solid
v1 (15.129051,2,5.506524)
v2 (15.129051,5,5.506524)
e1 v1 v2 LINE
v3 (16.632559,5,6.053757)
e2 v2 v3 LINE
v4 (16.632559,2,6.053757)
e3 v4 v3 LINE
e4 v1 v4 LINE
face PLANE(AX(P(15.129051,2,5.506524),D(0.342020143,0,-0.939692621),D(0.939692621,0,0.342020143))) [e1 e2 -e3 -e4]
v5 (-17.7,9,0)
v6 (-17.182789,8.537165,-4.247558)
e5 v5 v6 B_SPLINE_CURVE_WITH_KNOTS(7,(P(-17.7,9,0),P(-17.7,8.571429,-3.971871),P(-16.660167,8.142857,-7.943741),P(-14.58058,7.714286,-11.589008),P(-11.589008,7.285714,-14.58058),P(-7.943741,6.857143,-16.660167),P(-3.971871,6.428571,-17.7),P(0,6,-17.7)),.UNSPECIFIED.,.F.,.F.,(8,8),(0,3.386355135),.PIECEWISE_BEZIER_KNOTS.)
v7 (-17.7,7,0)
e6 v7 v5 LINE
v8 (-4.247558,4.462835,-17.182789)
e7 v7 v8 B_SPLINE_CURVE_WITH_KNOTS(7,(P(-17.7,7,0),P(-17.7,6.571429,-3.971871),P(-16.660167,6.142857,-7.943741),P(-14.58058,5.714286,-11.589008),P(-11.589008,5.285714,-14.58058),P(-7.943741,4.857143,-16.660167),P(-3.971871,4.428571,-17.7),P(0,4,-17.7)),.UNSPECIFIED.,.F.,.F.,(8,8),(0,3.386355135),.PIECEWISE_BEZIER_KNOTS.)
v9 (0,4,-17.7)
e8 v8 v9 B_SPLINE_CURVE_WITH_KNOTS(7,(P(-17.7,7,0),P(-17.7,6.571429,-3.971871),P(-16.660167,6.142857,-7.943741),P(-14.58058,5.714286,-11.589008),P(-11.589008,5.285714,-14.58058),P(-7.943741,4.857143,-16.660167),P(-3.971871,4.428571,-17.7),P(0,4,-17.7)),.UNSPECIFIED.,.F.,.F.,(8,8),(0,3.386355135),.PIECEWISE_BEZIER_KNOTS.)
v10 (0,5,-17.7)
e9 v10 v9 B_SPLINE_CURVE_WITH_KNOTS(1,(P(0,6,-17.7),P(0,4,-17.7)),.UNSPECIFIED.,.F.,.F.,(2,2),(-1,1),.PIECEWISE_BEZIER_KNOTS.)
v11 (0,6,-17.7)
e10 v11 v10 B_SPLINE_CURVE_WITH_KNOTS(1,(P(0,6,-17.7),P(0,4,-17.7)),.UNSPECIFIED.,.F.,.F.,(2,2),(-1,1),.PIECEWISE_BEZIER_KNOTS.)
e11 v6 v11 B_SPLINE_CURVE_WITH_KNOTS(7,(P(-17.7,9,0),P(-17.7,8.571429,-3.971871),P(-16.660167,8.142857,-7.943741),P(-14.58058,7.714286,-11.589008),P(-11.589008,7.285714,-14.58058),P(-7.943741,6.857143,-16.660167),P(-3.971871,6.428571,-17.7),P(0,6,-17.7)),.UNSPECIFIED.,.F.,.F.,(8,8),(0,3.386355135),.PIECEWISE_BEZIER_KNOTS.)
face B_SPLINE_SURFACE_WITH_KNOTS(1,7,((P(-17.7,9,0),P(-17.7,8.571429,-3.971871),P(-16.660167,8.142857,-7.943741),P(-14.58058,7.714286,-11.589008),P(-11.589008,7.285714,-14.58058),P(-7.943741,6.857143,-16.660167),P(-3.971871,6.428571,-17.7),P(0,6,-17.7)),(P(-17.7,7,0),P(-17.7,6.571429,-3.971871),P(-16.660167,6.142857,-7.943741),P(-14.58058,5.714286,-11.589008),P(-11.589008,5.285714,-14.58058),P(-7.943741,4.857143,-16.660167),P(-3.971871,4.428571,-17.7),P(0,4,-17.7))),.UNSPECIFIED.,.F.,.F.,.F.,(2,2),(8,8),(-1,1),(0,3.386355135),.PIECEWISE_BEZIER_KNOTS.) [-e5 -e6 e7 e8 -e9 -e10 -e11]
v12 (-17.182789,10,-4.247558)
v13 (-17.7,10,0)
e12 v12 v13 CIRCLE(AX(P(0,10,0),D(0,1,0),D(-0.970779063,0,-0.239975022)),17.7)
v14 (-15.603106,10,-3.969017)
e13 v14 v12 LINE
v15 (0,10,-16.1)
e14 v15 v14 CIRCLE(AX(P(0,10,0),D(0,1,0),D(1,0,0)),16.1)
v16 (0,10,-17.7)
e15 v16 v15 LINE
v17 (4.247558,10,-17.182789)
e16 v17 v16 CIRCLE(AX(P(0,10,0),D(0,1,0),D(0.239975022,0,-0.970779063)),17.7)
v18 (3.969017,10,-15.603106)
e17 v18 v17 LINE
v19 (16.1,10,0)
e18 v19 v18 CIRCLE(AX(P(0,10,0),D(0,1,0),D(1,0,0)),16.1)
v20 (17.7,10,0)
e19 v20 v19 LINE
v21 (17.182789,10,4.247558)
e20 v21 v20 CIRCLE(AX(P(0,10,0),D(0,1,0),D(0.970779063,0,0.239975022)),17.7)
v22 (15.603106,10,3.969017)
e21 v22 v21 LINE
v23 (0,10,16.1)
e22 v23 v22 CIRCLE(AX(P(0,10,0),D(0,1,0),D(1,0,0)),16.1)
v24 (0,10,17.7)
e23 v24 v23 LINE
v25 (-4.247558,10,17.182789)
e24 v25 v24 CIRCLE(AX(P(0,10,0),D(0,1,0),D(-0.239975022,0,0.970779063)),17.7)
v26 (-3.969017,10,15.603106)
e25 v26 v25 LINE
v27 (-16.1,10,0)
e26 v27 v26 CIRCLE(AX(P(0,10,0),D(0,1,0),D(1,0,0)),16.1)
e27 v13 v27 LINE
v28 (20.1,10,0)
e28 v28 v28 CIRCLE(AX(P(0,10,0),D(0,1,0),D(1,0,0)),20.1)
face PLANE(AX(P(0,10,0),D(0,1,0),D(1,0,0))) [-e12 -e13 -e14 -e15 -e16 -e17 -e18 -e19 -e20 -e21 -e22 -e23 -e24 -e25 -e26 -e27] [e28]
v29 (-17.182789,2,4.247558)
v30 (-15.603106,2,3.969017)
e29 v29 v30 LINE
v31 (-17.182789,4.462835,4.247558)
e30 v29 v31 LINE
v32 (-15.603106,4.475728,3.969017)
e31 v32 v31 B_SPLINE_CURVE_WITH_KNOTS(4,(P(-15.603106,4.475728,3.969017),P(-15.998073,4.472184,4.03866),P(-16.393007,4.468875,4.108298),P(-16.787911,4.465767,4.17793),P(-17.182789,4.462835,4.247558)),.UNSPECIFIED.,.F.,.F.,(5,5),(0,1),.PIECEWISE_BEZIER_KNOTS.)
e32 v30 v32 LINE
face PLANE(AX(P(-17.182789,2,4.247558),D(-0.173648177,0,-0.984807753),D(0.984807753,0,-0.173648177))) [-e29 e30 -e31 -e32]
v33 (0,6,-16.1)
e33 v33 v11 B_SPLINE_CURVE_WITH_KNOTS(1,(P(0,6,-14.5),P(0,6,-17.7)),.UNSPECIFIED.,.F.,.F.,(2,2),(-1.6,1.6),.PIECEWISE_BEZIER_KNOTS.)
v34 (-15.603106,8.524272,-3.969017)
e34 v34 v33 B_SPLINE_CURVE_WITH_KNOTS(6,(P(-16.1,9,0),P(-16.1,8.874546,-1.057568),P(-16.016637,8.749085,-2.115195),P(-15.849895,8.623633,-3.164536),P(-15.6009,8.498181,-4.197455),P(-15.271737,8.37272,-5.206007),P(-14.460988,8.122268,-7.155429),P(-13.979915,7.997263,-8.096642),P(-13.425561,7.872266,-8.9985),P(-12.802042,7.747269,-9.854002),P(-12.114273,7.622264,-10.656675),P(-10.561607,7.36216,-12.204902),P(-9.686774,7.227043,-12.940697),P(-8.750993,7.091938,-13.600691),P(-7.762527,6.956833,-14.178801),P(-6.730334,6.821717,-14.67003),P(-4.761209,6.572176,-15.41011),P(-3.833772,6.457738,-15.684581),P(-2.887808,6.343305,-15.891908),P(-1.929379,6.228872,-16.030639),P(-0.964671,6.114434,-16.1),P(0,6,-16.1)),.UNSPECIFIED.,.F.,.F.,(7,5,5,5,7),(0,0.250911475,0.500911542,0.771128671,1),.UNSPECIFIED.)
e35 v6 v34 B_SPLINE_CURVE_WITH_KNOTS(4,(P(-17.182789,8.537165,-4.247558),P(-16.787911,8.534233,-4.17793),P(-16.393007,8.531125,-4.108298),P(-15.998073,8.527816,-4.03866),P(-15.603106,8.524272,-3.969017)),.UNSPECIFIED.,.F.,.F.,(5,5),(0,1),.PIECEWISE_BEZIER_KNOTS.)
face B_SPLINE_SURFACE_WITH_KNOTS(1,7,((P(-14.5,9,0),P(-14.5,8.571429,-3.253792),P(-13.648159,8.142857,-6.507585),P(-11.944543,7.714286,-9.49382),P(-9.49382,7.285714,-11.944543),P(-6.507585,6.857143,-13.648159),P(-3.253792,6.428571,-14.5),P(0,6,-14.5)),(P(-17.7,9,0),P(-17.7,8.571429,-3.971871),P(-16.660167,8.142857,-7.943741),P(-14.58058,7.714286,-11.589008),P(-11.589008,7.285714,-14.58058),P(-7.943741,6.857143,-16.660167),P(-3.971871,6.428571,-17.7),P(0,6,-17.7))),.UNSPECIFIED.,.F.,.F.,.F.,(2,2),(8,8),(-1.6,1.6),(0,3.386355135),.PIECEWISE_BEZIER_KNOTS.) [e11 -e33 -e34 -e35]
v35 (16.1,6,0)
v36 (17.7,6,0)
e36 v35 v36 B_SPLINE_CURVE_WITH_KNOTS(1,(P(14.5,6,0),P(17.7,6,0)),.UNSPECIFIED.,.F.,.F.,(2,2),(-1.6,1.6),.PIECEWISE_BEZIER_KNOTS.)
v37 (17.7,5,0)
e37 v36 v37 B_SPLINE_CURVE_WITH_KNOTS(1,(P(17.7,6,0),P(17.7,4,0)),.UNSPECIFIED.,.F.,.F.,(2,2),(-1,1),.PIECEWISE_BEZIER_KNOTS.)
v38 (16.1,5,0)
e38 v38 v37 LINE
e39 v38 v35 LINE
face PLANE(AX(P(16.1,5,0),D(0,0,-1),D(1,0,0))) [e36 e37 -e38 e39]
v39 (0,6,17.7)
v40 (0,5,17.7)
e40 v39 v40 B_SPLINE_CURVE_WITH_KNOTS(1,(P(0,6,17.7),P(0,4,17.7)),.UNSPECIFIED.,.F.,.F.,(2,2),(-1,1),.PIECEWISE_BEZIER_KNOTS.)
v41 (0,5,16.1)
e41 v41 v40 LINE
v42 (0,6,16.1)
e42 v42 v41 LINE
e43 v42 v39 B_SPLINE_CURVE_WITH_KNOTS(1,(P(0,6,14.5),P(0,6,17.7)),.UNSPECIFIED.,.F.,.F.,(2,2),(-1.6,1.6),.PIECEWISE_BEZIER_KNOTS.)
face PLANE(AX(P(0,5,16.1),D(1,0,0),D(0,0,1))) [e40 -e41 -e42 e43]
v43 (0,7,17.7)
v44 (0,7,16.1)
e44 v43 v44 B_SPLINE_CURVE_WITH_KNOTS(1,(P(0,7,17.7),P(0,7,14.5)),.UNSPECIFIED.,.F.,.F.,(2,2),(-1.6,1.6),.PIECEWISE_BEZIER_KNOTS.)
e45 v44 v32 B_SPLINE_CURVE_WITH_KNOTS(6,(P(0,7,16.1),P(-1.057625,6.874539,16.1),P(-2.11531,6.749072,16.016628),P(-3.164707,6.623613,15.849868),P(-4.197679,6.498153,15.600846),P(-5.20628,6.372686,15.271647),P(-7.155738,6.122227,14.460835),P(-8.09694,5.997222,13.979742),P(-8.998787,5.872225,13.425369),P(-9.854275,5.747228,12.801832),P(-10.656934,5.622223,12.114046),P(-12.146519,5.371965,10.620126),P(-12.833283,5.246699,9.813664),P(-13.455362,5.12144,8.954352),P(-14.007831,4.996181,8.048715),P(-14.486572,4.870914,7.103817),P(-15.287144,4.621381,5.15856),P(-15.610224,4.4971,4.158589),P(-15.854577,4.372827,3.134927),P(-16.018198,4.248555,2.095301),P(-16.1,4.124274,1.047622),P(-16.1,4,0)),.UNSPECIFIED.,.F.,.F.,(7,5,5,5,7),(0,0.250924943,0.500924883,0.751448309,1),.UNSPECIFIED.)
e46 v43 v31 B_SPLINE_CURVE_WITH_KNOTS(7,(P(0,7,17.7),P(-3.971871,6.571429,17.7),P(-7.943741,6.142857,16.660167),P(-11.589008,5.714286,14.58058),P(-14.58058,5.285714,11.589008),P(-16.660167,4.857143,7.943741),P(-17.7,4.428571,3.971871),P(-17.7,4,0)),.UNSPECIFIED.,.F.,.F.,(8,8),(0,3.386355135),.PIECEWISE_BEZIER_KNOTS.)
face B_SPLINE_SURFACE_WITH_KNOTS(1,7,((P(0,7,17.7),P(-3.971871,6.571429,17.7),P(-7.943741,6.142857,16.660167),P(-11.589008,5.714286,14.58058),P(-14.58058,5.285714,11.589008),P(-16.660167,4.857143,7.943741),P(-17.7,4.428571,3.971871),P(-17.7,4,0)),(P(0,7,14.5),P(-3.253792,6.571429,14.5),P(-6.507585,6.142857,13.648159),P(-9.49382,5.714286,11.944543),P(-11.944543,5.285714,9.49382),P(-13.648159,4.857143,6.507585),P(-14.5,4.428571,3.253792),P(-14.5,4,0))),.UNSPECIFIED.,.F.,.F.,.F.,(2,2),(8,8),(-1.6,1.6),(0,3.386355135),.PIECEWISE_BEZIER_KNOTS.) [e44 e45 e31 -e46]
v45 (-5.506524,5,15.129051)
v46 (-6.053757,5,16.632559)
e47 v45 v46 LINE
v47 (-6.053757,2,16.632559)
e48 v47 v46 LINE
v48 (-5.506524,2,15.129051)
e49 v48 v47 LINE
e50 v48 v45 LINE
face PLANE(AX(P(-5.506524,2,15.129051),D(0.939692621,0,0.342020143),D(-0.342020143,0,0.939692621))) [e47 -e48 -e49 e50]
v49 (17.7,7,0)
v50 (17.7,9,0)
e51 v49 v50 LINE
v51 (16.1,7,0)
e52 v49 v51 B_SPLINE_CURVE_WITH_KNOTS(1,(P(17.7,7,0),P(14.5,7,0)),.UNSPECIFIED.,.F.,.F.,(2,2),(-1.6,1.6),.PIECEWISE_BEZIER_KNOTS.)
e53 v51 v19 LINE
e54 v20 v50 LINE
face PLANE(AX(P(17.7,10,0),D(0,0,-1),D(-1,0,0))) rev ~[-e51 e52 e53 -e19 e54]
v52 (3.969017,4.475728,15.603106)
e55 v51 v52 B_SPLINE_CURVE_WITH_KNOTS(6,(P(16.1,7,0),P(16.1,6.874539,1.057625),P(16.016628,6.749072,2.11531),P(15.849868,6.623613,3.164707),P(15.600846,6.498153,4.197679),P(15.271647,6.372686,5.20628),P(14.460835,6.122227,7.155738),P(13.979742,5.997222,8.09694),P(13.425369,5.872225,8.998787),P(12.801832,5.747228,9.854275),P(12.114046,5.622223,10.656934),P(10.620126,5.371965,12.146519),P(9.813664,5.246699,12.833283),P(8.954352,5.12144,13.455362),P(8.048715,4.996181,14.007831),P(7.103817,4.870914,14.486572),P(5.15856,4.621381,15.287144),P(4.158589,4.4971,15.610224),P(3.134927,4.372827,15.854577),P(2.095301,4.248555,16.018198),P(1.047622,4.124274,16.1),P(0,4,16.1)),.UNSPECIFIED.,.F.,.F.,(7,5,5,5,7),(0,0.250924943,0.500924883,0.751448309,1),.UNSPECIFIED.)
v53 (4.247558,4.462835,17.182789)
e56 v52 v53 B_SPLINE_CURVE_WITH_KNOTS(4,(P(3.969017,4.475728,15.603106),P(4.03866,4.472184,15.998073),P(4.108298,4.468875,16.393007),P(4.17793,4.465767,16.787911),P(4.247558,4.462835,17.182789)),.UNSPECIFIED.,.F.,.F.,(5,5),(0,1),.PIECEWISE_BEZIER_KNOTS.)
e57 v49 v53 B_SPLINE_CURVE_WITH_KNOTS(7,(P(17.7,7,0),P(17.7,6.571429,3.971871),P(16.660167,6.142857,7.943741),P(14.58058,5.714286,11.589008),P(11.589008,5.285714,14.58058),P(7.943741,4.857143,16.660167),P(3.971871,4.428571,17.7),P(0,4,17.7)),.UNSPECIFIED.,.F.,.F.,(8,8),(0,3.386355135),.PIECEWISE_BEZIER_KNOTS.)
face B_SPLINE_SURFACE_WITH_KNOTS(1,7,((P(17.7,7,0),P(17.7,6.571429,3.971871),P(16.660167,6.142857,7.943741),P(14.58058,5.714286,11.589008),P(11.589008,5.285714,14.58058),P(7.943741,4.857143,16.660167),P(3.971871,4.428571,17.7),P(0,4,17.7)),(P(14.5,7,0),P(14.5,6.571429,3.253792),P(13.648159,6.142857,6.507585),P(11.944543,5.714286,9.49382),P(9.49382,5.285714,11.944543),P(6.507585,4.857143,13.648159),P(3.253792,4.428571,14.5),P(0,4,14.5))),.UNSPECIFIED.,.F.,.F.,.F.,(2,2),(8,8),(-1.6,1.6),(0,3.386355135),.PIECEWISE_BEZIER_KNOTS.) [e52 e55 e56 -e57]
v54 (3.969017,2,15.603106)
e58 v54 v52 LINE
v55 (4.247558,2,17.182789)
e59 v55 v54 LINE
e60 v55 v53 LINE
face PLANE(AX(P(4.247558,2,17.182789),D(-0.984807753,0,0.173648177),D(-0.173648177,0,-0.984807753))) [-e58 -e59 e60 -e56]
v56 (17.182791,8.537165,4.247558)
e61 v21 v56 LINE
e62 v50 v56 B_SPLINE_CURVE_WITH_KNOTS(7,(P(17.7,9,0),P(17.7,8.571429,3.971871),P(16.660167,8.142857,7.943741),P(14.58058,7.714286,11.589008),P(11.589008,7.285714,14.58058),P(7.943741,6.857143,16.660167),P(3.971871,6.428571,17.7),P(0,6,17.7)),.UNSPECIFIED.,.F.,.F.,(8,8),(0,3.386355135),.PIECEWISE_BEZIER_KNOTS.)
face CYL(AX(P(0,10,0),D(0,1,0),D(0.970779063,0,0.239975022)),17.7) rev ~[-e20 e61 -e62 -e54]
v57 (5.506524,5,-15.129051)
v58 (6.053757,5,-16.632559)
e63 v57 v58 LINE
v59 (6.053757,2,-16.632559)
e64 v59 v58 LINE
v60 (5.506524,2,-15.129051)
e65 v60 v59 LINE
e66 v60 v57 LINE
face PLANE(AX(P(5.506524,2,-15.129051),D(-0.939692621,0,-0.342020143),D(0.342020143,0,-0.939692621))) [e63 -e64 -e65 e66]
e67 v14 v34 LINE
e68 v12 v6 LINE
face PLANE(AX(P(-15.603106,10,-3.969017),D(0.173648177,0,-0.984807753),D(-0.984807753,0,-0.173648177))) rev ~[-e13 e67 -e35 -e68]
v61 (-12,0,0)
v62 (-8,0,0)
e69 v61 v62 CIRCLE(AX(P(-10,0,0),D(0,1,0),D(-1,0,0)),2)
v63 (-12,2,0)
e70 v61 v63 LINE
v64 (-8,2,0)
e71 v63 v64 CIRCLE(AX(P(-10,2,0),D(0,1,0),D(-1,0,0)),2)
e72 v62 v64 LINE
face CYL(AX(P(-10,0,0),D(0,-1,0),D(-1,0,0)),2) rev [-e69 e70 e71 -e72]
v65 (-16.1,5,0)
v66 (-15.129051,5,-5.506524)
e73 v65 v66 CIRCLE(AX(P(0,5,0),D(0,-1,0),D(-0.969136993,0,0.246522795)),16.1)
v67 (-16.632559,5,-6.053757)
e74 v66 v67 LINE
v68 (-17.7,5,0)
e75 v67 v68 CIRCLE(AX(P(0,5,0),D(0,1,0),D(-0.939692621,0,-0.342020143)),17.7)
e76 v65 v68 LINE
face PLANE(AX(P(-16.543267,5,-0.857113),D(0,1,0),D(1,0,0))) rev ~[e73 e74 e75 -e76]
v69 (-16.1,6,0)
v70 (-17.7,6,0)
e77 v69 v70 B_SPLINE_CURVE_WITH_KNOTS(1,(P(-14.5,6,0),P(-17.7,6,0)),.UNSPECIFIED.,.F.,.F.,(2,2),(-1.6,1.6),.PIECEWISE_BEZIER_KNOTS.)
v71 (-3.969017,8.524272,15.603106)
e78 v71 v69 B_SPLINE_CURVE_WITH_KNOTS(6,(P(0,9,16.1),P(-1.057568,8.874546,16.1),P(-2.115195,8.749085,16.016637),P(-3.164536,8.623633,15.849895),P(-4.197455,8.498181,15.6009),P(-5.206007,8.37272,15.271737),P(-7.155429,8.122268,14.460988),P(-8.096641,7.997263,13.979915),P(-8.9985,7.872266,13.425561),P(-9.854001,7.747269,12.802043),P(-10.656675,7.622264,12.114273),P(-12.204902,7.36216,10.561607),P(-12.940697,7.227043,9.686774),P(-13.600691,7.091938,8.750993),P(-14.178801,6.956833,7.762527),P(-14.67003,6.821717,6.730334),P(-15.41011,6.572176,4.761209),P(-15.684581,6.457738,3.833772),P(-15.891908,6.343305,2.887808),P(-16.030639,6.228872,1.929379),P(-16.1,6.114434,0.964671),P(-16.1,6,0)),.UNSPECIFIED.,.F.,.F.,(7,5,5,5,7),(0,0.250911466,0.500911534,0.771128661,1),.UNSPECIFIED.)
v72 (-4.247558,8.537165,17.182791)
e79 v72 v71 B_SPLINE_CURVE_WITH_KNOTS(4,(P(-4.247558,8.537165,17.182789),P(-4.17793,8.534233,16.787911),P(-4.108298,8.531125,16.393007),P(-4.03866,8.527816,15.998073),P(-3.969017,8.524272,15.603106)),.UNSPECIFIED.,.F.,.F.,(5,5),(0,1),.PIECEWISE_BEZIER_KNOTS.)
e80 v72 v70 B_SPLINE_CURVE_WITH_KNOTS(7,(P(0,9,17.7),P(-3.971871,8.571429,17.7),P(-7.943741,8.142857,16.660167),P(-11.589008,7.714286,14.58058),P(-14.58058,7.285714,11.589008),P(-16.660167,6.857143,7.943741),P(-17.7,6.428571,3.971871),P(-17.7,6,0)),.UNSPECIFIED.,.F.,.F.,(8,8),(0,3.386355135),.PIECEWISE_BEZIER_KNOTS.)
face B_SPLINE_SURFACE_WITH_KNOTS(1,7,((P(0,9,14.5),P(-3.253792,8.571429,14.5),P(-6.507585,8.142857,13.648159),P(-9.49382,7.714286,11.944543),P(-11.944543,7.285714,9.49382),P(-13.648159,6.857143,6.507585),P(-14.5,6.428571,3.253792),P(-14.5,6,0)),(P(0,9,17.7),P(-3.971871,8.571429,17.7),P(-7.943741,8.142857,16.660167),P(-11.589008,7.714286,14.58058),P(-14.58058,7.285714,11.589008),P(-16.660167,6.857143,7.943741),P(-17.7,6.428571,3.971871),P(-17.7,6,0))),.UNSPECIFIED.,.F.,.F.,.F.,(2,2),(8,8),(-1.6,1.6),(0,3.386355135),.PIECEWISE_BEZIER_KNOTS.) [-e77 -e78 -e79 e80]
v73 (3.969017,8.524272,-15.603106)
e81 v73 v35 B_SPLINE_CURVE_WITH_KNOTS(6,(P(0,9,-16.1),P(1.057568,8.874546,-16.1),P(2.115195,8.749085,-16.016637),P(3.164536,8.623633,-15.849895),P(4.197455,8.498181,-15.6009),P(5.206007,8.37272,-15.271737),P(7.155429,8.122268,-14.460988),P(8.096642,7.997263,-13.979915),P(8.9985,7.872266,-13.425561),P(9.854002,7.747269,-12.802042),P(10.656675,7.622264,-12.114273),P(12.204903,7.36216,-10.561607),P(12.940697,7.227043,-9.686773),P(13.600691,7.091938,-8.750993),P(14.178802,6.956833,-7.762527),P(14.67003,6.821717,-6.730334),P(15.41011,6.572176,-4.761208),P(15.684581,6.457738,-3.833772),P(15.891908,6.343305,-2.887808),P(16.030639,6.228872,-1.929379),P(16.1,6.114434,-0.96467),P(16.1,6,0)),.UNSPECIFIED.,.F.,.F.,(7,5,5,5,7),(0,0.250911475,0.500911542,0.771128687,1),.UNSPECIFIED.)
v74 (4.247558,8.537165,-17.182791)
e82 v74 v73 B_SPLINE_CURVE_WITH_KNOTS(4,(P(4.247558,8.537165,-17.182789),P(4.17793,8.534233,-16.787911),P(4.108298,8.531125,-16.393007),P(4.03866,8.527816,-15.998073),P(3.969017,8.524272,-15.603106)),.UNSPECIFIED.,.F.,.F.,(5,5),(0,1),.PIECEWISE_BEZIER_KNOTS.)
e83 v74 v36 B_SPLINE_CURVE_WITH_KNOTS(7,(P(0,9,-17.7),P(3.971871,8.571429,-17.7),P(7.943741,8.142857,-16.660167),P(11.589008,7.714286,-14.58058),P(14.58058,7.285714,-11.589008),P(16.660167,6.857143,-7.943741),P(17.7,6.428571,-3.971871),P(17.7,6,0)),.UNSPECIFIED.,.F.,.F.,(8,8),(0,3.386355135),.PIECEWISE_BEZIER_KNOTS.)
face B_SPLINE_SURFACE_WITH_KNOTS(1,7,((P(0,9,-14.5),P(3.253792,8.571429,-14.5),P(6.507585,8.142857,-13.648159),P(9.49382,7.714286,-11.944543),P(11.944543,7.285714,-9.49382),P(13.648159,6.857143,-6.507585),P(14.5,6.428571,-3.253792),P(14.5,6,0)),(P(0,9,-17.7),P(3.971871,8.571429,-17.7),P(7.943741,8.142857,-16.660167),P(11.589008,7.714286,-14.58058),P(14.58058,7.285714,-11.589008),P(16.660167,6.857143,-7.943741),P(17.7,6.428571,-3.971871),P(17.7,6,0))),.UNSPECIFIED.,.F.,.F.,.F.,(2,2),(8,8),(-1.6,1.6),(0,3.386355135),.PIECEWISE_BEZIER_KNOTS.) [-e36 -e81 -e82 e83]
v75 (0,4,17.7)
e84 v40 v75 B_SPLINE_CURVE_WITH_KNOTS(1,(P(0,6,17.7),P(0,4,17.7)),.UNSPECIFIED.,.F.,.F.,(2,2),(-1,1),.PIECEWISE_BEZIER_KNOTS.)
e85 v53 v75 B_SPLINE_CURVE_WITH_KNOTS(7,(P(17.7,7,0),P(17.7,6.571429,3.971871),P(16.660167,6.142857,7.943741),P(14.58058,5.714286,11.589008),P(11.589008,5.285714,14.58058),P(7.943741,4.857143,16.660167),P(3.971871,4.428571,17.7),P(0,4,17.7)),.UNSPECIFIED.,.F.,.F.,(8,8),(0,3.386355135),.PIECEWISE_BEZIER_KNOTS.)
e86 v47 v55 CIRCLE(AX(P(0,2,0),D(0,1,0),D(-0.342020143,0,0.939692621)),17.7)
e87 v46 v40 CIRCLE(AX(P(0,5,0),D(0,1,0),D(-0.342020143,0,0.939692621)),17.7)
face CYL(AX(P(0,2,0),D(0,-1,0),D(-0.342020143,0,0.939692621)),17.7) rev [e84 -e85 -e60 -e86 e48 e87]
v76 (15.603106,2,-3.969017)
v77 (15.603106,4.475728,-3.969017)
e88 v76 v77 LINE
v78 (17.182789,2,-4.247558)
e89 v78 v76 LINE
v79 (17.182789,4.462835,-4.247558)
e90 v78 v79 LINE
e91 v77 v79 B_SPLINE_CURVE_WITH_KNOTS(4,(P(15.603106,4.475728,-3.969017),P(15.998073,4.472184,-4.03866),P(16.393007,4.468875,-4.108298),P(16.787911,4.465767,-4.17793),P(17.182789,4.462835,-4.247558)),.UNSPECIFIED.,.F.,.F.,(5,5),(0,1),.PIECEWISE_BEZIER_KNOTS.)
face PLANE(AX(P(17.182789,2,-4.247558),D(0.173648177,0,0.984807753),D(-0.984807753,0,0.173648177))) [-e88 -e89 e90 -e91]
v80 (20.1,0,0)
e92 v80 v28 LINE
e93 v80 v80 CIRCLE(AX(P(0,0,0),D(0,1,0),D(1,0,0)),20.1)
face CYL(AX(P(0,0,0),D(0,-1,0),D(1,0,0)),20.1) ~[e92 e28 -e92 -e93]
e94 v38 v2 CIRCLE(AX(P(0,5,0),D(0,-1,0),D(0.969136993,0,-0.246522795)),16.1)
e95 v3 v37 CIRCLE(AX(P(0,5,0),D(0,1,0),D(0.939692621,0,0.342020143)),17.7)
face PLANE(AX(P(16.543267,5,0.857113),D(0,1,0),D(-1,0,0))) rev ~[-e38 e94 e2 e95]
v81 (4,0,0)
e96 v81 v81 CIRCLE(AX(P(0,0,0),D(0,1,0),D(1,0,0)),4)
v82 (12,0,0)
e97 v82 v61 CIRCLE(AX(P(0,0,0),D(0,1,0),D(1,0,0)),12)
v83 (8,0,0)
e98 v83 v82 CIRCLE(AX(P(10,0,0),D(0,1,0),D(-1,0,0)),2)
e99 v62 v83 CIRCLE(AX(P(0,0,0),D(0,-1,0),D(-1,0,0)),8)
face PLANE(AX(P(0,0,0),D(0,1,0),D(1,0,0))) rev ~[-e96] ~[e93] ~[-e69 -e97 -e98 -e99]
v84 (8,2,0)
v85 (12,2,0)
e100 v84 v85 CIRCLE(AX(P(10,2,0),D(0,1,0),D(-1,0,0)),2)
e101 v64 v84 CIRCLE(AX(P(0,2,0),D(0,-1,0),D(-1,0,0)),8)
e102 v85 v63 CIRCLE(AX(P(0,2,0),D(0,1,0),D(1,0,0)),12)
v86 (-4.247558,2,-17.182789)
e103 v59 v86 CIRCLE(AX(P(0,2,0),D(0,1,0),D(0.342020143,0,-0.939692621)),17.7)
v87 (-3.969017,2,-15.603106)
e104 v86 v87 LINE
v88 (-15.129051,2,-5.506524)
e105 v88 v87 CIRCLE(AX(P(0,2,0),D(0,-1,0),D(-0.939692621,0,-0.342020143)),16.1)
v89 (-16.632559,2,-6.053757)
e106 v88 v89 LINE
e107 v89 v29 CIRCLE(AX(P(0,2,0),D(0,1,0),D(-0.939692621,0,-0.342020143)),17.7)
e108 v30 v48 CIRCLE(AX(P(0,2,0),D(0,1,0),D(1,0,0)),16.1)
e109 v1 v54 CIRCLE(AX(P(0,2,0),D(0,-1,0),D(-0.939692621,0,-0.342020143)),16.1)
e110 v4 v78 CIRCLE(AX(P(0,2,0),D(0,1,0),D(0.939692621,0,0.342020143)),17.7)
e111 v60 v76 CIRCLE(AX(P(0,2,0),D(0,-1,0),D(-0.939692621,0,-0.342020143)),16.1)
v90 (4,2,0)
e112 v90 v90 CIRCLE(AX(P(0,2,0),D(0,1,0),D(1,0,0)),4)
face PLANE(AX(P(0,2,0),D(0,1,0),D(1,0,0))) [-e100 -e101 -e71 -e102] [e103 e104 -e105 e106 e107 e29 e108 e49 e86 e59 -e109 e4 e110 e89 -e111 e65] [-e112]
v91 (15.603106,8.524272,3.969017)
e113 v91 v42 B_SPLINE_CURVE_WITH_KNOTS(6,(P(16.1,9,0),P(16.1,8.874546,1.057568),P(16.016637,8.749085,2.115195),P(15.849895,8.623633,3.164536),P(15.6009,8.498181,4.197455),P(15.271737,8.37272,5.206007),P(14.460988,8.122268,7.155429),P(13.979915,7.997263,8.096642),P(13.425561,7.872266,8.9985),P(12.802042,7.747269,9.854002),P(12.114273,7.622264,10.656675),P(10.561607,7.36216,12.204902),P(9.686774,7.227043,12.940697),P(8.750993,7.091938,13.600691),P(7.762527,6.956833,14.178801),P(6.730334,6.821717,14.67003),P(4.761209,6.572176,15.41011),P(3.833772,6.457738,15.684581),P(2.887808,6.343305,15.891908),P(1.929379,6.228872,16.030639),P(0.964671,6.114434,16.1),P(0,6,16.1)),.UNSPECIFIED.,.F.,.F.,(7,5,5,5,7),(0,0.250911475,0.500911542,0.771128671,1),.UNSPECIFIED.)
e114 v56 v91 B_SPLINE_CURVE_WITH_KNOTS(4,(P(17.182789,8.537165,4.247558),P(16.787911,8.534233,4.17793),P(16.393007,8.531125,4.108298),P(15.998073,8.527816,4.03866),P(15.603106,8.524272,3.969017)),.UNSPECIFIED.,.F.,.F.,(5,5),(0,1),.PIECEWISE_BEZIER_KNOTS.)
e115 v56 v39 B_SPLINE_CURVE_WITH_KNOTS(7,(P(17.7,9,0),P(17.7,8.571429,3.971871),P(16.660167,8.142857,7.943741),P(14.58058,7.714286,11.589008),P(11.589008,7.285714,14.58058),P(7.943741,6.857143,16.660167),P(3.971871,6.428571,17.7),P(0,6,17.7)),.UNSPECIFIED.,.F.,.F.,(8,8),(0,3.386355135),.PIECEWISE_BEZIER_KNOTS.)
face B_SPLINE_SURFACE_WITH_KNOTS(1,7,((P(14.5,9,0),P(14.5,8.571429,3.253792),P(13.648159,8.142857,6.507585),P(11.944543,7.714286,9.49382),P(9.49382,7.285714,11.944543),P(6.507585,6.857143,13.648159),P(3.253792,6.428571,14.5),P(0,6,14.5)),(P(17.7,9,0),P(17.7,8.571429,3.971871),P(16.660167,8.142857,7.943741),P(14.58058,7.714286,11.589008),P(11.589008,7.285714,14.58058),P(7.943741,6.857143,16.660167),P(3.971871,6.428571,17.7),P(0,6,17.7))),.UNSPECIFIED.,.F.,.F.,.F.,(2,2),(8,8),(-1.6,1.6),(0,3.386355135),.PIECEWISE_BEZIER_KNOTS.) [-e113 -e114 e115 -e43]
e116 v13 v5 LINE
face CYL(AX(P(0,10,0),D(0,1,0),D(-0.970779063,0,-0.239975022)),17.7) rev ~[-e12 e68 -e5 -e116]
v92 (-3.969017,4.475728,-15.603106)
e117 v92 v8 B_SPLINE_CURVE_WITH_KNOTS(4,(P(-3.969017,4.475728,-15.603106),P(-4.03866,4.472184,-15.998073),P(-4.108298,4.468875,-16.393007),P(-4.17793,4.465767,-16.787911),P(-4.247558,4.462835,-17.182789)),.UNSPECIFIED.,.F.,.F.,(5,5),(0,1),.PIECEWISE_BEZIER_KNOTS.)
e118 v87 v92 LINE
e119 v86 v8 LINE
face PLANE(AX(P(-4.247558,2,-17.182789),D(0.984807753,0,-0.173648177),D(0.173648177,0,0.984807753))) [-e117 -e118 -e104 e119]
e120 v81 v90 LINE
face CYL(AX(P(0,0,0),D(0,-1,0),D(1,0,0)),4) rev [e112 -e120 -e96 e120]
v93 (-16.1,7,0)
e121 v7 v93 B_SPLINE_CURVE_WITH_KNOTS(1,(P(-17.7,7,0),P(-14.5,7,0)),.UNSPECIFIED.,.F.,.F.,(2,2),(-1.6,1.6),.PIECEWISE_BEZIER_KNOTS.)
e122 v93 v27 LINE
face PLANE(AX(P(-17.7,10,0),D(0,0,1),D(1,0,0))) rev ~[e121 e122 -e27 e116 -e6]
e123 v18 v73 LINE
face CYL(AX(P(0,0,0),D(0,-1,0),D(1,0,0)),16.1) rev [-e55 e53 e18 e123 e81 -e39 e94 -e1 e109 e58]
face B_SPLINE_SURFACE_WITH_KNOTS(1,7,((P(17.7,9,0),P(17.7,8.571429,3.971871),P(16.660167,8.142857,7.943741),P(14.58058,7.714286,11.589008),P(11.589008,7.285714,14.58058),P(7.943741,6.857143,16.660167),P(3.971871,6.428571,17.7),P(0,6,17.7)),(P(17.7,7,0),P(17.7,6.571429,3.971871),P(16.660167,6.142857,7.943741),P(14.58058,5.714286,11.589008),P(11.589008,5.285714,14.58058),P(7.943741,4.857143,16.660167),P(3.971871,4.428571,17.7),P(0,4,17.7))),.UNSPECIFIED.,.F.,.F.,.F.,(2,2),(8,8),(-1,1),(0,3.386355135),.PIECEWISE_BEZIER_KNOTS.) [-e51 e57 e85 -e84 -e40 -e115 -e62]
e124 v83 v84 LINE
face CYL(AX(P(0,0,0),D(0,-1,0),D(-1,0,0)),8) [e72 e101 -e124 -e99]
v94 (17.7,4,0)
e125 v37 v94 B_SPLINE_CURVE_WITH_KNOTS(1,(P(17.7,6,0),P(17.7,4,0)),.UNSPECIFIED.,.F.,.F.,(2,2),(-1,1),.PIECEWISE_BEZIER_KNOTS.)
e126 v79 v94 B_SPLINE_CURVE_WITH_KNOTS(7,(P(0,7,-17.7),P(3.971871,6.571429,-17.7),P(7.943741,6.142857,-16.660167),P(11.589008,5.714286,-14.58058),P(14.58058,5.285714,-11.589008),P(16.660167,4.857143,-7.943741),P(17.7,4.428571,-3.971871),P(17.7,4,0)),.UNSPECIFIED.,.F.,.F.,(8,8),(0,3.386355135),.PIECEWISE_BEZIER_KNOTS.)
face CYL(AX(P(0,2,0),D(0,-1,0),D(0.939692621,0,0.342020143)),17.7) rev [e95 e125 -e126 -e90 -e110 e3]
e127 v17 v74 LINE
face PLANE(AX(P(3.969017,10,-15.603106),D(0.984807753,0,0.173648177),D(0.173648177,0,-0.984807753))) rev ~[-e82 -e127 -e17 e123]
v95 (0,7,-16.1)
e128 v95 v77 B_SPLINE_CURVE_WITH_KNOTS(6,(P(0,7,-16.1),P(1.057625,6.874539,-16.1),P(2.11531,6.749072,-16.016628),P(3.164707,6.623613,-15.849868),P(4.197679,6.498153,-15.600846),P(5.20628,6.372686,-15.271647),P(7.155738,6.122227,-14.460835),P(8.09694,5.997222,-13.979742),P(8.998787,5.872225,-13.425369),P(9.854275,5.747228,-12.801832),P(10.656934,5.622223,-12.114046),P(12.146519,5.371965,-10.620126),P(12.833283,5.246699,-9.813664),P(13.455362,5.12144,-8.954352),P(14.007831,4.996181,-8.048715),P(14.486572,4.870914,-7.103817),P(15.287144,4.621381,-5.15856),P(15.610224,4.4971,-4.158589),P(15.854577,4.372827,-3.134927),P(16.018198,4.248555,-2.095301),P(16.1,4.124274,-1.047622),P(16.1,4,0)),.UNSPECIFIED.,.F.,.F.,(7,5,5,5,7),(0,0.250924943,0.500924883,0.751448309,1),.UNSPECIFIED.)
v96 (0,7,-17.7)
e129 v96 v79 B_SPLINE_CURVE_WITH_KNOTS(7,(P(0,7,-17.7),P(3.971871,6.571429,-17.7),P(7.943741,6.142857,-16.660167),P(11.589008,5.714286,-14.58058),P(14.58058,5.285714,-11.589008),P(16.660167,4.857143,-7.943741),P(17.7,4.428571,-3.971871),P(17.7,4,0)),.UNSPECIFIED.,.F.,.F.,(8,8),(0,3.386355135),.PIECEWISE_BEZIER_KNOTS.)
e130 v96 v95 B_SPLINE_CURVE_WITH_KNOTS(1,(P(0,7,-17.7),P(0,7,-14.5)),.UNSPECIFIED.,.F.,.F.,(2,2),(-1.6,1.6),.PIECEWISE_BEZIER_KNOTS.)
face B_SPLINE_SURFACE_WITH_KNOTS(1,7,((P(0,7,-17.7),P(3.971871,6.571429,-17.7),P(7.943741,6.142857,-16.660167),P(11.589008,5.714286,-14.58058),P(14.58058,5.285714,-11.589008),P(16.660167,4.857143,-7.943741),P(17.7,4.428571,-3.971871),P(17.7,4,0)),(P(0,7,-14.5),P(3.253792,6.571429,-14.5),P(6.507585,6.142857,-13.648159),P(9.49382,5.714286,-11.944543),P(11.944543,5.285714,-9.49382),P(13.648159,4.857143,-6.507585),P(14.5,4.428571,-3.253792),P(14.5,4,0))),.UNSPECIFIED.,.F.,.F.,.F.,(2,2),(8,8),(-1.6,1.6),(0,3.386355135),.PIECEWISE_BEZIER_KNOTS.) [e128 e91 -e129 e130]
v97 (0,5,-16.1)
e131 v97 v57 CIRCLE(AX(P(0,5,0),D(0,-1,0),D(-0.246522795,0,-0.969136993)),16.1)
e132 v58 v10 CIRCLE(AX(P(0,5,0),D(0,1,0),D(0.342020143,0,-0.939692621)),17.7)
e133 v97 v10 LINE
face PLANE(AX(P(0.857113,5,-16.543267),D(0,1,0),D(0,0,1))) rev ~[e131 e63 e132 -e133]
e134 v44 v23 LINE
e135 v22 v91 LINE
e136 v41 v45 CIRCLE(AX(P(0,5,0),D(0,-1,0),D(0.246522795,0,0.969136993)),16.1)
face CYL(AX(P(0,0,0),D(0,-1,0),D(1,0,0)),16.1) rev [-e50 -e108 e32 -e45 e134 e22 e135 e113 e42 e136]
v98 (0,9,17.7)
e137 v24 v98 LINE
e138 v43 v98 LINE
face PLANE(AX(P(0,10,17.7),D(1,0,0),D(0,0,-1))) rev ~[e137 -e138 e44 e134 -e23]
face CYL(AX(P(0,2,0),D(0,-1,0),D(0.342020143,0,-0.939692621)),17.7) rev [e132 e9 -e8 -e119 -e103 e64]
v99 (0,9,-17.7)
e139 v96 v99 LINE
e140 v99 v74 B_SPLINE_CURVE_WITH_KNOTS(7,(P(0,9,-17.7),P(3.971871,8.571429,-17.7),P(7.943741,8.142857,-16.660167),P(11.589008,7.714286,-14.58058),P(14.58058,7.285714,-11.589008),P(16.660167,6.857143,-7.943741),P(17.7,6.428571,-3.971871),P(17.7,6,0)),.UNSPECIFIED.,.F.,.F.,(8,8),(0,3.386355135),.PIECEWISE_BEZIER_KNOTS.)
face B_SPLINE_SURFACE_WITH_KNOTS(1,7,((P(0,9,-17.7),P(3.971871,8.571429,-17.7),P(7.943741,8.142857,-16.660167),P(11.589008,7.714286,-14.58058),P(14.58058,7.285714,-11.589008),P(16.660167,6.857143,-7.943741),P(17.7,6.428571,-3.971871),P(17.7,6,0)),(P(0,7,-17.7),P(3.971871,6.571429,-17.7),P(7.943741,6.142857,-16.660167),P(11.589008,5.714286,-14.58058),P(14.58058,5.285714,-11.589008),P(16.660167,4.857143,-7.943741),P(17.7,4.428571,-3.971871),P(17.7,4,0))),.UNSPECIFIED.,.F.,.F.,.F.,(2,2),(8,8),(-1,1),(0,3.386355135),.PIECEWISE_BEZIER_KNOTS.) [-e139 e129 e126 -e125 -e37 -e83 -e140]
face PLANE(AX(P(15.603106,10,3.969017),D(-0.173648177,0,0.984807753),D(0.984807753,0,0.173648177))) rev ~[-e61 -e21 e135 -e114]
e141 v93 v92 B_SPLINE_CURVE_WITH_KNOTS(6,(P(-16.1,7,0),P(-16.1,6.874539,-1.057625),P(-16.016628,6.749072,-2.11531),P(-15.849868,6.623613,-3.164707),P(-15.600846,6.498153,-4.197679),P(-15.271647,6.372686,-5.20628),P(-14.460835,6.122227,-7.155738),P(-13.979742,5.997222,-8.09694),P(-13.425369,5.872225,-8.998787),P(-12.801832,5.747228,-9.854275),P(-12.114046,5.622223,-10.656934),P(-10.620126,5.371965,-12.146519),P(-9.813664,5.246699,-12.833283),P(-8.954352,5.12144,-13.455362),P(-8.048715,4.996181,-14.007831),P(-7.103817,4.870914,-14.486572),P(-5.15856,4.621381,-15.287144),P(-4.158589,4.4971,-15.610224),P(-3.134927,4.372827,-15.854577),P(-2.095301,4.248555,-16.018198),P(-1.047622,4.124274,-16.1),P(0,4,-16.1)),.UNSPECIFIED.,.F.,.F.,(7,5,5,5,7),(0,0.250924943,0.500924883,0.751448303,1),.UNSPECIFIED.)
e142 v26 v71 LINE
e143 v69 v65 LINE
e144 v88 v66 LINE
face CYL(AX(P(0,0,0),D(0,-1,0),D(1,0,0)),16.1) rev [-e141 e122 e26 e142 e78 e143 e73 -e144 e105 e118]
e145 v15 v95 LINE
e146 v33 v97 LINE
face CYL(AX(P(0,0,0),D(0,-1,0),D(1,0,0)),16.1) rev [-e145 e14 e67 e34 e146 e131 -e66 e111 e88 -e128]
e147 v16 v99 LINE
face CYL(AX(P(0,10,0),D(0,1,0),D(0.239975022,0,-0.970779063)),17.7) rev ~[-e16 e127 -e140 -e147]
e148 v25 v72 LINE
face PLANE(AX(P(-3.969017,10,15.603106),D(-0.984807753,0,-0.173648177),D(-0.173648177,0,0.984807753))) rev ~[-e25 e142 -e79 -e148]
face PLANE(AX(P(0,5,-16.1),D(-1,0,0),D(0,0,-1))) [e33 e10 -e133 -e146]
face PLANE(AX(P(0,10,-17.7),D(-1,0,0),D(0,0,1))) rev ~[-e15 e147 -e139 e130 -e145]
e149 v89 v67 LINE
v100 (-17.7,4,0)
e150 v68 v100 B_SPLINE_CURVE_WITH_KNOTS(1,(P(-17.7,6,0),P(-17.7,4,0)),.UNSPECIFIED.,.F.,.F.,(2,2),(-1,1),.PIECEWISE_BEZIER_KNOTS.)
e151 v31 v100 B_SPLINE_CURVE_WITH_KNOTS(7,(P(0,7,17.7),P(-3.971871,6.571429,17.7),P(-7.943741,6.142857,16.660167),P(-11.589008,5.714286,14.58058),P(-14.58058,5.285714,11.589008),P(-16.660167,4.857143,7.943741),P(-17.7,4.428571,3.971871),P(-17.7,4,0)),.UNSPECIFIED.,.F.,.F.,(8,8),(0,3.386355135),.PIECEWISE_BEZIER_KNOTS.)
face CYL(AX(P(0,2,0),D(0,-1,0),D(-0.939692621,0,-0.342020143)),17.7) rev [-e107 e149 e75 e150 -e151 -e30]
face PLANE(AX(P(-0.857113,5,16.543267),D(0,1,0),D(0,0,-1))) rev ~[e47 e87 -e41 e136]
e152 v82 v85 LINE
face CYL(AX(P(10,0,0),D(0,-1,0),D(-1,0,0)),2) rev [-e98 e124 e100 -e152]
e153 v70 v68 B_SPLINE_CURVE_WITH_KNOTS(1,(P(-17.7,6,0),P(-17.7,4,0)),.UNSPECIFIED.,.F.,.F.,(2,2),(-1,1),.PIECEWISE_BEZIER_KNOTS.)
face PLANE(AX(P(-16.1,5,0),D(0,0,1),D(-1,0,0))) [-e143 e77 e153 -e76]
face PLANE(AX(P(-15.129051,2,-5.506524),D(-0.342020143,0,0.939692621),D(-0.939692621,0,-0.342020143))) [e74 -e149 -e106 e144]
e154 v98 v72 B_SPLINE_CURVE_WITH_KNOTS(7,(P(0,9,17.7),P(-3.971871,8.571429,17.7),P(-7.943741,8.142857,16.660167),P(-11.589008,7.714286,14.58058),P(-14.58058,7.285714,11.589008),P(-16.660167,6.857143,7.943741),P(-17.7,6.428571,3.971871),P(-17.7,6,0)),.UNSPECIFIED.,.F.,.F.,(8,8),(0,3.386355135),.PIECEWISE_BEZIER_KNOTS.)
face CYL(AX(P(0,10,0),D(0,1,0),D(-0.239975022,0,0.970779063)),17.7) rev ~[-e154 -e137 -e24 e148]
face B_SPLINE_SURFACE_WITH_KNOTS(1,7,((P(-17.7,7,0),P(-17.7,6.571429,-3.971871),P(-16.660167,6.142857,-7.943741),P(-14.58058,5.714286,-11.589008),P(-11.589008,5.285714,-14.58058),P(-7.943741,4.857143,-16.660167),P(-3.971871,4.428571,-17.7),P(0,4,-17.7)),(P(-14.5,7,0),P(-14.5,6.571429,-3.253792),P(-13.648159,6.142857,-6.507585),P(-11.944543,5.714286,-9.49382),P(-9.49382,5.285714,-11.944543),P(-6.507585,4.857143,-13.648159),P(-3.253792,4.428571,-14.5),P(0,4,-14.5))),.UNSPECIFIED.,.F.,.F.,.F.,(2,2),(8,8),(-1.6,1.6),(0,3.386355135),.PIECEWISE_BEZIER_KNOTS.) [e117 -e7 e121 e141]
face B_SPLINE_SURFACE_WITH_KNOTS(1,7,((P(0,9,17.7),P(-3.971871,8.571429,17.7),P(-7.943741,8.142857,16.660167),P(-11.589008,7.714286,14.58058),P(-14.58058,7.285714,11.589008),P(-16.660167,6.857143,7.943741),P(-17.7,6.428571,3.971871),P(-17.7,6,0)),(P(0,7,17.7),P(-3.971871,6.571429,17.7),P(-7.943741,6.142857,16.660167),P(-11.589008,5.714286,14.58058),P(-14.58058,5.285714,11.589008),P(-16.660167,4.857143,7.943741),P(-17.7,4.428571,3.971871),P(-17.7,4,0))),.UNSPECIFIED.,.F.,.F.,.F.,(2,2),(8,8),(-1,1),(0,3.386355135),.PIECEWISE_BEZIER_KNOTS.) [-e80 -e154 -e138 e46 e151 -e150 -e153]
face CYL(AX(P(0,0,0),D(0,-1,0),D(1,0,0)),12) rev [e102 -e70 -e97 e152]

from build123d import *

# Parameters (mm, degrees)
SKETCH1_R              = 16.1
SKETCH1_R_2            = 4
BOSS_EXTRUDE1_DEPTH    = 2
SKETCH2_R              = 20.1
SKETCH2_R_2            = 16.1
BOSS_EXTRUDE2_DEPTH    = 10
CUT_SWEEP2_PITCH       = 12
CUT_SWEEP2_HEIGHT      = 3
CUT_SWEEP2_RADIUS      = 16.1
CUT_SWEEP2_START_ANGLE = -90
SKETCH35_W             = 3.2
SKETCH35_H             = 2
CIRPATTERN3_COUNT      = 4
CUT_EXTRUDE1_DEPTH     = 2
CIRPATTERN4_COUNT      = 4
CUT_EXTRUDE4_DEPTH     = 3
CIRPATTERN5_COUNT      = 4


with BuildPart() as part:
    # Sketch1 → Boss-Extrude1 (new body)
    with BuildSketch(Plane(origin=(0, 0, 0), x_dir=(1, 0, 0), z_dir=(0, 1, 0))):
        Circle(SKETCH1_R)
        Circle(SKETCH1_R_2, mode=Mode.SUBTRACT)
        with BuildLine():
            ThreePointArc((12, 0), (0, 12), (-12, 0))
            ThreePointArc((-12, 0), (-10, -2), (-8, 0))
            ThreePointArc((-8, 0), (0, 8), (8, 0))
            ThreePointArc((8, 0), (10, -2), (12, 0))
        make_face(mode=Mode.SUBTRACT)
    extrude(amount=BOSS_EXTRUDE1_DEPTH)

    # Sketch2 → Boss-Extrude2 (add)
    with BuildSketch(Plane(origin=(0, 0, 0), x_dir=(1, 0, 0), z_dir=(0, 1, 0))):
        Circle(SKETCH2_R)
        Circle(SKETCH2_R_2, mode=Mode.SUBTRACT)
    extrude(amount=BOSS_EXTRUDE2_DEPTH)

    # Cut-Sweep2: sweep along a helix
    with BuildLine() as cut_sweep2_path:
        add(Helix(CUT_SWEEP2_PITCH, CUT_SWEEP2_HEIGHT, CUT_SWEEP2_RADIUS, center=(0, 8, 0), direction=(0, -1, 0), mode=Mode.PRIVATE).rotate(Axis((0, 8, 0), (0, -1, 0)), CUT_SWEEP2_START_ANGLE))
    # Sketch35 → Cut-Sweep2 (sweep, cut)
    with BuildSketch(Plane.XY):
        with Locations((-16.1, 8)):
            Rectangle(SKETCH35_W, SKETCH35_H)
    cut_sweep2 = sweep(path=cut_sweep2_path.line, is_frenet=True, mode=Mode.SUBTRACT)

    # CirPattern3: Cut-Sweep2 ×4 about axis
    cirpattern3_axis = Axis((0, 2, 0), (0, -1, 0))
    for i in range(1, CIRPATTERN3_COUNT):
        add(cut_sweep2.rotate(cirpattern3_axis, i * 360 / CIRPATTERN3_COUNT), mode=Mode.SUBTRACT)

    # Sketch36 → Cut-Extrude1 (cut)
    with BuildSketch(Plane(origin=(0, 10, 0), x_dir=(1, 0, 0), z_dir=(0, 1, 0))):
        with BuildLine():
            Line((-17.7, 0), (-16.1, 0))
            ThreePointArc((-16.1, 0), (-15.975293425, 2), (-15.60310559, 3.969017))
            Line((-15.60310559, 3.969017), (-17.182789415, 4.247557879))
            ThreePointArc((-17.182789415, 4.247557879), (-17.570221579, 2.139465747), (-17.7, 0))
        make_face()
    cut_extrude1 = extrude(amount=-CUT_EXTRUDE1_DEPTH, mode=Mode.SUBTRACT)

    # CirPattern4: Cut-Extrude1 ×4 about axis
    cirpattern4_axis = Axis((0, 0, 0), (0, 1, 0))
    for i in range(1, CIRPATTERN4_COUNT):
        add(cut_extrude1.rotate(cirpattern4_axis, i * 360 / CIRPATTERN4_COUNT), mode=Mode.SUBTRACT)

    # Sketch37 → Cut-Extrude4 (cut)
    with BuildSketch(Plane(origin=(0, 2, 0), x_dir=(1, 0, 0), z_dir=(0, 1, 0))):
        with BuildLine():
            Line((-15.129051195, 5.506524308), (-16.632559388, 6.053756537))
            ThreePointArc((-16.632559388, 6.053756537), (-17.674804761, 0.944074504), (-17.182789415, -4.247557879))
            Line((-17.182789415, -4.247557879), (-15.60310559, -3.969017))
            ThreePointArc((-15.60310559, -3.969017), (-16.079889176, 0.804465085), (-15.129051195, 5.506524308))
        make_face()
    cut_extrude4 = extrude(amount=CUT_EXTRUDE4_DEPTH, mode=Mode.SUBTRACT)

    # CirPattern5: Cut-Extrude4 ×4 about axis
    cirpattern5_axis = Axis((0, 0, 0), (0, 1, 0))
    for i in range(1, CIRPATTERN5_COUNT):
        add(cut_extrude4.rotate(cirpattern5_axis, i * 360 / CIRPATTERN5_COUNT), mode=Mode.SUBTRACT)


solid = part.part
